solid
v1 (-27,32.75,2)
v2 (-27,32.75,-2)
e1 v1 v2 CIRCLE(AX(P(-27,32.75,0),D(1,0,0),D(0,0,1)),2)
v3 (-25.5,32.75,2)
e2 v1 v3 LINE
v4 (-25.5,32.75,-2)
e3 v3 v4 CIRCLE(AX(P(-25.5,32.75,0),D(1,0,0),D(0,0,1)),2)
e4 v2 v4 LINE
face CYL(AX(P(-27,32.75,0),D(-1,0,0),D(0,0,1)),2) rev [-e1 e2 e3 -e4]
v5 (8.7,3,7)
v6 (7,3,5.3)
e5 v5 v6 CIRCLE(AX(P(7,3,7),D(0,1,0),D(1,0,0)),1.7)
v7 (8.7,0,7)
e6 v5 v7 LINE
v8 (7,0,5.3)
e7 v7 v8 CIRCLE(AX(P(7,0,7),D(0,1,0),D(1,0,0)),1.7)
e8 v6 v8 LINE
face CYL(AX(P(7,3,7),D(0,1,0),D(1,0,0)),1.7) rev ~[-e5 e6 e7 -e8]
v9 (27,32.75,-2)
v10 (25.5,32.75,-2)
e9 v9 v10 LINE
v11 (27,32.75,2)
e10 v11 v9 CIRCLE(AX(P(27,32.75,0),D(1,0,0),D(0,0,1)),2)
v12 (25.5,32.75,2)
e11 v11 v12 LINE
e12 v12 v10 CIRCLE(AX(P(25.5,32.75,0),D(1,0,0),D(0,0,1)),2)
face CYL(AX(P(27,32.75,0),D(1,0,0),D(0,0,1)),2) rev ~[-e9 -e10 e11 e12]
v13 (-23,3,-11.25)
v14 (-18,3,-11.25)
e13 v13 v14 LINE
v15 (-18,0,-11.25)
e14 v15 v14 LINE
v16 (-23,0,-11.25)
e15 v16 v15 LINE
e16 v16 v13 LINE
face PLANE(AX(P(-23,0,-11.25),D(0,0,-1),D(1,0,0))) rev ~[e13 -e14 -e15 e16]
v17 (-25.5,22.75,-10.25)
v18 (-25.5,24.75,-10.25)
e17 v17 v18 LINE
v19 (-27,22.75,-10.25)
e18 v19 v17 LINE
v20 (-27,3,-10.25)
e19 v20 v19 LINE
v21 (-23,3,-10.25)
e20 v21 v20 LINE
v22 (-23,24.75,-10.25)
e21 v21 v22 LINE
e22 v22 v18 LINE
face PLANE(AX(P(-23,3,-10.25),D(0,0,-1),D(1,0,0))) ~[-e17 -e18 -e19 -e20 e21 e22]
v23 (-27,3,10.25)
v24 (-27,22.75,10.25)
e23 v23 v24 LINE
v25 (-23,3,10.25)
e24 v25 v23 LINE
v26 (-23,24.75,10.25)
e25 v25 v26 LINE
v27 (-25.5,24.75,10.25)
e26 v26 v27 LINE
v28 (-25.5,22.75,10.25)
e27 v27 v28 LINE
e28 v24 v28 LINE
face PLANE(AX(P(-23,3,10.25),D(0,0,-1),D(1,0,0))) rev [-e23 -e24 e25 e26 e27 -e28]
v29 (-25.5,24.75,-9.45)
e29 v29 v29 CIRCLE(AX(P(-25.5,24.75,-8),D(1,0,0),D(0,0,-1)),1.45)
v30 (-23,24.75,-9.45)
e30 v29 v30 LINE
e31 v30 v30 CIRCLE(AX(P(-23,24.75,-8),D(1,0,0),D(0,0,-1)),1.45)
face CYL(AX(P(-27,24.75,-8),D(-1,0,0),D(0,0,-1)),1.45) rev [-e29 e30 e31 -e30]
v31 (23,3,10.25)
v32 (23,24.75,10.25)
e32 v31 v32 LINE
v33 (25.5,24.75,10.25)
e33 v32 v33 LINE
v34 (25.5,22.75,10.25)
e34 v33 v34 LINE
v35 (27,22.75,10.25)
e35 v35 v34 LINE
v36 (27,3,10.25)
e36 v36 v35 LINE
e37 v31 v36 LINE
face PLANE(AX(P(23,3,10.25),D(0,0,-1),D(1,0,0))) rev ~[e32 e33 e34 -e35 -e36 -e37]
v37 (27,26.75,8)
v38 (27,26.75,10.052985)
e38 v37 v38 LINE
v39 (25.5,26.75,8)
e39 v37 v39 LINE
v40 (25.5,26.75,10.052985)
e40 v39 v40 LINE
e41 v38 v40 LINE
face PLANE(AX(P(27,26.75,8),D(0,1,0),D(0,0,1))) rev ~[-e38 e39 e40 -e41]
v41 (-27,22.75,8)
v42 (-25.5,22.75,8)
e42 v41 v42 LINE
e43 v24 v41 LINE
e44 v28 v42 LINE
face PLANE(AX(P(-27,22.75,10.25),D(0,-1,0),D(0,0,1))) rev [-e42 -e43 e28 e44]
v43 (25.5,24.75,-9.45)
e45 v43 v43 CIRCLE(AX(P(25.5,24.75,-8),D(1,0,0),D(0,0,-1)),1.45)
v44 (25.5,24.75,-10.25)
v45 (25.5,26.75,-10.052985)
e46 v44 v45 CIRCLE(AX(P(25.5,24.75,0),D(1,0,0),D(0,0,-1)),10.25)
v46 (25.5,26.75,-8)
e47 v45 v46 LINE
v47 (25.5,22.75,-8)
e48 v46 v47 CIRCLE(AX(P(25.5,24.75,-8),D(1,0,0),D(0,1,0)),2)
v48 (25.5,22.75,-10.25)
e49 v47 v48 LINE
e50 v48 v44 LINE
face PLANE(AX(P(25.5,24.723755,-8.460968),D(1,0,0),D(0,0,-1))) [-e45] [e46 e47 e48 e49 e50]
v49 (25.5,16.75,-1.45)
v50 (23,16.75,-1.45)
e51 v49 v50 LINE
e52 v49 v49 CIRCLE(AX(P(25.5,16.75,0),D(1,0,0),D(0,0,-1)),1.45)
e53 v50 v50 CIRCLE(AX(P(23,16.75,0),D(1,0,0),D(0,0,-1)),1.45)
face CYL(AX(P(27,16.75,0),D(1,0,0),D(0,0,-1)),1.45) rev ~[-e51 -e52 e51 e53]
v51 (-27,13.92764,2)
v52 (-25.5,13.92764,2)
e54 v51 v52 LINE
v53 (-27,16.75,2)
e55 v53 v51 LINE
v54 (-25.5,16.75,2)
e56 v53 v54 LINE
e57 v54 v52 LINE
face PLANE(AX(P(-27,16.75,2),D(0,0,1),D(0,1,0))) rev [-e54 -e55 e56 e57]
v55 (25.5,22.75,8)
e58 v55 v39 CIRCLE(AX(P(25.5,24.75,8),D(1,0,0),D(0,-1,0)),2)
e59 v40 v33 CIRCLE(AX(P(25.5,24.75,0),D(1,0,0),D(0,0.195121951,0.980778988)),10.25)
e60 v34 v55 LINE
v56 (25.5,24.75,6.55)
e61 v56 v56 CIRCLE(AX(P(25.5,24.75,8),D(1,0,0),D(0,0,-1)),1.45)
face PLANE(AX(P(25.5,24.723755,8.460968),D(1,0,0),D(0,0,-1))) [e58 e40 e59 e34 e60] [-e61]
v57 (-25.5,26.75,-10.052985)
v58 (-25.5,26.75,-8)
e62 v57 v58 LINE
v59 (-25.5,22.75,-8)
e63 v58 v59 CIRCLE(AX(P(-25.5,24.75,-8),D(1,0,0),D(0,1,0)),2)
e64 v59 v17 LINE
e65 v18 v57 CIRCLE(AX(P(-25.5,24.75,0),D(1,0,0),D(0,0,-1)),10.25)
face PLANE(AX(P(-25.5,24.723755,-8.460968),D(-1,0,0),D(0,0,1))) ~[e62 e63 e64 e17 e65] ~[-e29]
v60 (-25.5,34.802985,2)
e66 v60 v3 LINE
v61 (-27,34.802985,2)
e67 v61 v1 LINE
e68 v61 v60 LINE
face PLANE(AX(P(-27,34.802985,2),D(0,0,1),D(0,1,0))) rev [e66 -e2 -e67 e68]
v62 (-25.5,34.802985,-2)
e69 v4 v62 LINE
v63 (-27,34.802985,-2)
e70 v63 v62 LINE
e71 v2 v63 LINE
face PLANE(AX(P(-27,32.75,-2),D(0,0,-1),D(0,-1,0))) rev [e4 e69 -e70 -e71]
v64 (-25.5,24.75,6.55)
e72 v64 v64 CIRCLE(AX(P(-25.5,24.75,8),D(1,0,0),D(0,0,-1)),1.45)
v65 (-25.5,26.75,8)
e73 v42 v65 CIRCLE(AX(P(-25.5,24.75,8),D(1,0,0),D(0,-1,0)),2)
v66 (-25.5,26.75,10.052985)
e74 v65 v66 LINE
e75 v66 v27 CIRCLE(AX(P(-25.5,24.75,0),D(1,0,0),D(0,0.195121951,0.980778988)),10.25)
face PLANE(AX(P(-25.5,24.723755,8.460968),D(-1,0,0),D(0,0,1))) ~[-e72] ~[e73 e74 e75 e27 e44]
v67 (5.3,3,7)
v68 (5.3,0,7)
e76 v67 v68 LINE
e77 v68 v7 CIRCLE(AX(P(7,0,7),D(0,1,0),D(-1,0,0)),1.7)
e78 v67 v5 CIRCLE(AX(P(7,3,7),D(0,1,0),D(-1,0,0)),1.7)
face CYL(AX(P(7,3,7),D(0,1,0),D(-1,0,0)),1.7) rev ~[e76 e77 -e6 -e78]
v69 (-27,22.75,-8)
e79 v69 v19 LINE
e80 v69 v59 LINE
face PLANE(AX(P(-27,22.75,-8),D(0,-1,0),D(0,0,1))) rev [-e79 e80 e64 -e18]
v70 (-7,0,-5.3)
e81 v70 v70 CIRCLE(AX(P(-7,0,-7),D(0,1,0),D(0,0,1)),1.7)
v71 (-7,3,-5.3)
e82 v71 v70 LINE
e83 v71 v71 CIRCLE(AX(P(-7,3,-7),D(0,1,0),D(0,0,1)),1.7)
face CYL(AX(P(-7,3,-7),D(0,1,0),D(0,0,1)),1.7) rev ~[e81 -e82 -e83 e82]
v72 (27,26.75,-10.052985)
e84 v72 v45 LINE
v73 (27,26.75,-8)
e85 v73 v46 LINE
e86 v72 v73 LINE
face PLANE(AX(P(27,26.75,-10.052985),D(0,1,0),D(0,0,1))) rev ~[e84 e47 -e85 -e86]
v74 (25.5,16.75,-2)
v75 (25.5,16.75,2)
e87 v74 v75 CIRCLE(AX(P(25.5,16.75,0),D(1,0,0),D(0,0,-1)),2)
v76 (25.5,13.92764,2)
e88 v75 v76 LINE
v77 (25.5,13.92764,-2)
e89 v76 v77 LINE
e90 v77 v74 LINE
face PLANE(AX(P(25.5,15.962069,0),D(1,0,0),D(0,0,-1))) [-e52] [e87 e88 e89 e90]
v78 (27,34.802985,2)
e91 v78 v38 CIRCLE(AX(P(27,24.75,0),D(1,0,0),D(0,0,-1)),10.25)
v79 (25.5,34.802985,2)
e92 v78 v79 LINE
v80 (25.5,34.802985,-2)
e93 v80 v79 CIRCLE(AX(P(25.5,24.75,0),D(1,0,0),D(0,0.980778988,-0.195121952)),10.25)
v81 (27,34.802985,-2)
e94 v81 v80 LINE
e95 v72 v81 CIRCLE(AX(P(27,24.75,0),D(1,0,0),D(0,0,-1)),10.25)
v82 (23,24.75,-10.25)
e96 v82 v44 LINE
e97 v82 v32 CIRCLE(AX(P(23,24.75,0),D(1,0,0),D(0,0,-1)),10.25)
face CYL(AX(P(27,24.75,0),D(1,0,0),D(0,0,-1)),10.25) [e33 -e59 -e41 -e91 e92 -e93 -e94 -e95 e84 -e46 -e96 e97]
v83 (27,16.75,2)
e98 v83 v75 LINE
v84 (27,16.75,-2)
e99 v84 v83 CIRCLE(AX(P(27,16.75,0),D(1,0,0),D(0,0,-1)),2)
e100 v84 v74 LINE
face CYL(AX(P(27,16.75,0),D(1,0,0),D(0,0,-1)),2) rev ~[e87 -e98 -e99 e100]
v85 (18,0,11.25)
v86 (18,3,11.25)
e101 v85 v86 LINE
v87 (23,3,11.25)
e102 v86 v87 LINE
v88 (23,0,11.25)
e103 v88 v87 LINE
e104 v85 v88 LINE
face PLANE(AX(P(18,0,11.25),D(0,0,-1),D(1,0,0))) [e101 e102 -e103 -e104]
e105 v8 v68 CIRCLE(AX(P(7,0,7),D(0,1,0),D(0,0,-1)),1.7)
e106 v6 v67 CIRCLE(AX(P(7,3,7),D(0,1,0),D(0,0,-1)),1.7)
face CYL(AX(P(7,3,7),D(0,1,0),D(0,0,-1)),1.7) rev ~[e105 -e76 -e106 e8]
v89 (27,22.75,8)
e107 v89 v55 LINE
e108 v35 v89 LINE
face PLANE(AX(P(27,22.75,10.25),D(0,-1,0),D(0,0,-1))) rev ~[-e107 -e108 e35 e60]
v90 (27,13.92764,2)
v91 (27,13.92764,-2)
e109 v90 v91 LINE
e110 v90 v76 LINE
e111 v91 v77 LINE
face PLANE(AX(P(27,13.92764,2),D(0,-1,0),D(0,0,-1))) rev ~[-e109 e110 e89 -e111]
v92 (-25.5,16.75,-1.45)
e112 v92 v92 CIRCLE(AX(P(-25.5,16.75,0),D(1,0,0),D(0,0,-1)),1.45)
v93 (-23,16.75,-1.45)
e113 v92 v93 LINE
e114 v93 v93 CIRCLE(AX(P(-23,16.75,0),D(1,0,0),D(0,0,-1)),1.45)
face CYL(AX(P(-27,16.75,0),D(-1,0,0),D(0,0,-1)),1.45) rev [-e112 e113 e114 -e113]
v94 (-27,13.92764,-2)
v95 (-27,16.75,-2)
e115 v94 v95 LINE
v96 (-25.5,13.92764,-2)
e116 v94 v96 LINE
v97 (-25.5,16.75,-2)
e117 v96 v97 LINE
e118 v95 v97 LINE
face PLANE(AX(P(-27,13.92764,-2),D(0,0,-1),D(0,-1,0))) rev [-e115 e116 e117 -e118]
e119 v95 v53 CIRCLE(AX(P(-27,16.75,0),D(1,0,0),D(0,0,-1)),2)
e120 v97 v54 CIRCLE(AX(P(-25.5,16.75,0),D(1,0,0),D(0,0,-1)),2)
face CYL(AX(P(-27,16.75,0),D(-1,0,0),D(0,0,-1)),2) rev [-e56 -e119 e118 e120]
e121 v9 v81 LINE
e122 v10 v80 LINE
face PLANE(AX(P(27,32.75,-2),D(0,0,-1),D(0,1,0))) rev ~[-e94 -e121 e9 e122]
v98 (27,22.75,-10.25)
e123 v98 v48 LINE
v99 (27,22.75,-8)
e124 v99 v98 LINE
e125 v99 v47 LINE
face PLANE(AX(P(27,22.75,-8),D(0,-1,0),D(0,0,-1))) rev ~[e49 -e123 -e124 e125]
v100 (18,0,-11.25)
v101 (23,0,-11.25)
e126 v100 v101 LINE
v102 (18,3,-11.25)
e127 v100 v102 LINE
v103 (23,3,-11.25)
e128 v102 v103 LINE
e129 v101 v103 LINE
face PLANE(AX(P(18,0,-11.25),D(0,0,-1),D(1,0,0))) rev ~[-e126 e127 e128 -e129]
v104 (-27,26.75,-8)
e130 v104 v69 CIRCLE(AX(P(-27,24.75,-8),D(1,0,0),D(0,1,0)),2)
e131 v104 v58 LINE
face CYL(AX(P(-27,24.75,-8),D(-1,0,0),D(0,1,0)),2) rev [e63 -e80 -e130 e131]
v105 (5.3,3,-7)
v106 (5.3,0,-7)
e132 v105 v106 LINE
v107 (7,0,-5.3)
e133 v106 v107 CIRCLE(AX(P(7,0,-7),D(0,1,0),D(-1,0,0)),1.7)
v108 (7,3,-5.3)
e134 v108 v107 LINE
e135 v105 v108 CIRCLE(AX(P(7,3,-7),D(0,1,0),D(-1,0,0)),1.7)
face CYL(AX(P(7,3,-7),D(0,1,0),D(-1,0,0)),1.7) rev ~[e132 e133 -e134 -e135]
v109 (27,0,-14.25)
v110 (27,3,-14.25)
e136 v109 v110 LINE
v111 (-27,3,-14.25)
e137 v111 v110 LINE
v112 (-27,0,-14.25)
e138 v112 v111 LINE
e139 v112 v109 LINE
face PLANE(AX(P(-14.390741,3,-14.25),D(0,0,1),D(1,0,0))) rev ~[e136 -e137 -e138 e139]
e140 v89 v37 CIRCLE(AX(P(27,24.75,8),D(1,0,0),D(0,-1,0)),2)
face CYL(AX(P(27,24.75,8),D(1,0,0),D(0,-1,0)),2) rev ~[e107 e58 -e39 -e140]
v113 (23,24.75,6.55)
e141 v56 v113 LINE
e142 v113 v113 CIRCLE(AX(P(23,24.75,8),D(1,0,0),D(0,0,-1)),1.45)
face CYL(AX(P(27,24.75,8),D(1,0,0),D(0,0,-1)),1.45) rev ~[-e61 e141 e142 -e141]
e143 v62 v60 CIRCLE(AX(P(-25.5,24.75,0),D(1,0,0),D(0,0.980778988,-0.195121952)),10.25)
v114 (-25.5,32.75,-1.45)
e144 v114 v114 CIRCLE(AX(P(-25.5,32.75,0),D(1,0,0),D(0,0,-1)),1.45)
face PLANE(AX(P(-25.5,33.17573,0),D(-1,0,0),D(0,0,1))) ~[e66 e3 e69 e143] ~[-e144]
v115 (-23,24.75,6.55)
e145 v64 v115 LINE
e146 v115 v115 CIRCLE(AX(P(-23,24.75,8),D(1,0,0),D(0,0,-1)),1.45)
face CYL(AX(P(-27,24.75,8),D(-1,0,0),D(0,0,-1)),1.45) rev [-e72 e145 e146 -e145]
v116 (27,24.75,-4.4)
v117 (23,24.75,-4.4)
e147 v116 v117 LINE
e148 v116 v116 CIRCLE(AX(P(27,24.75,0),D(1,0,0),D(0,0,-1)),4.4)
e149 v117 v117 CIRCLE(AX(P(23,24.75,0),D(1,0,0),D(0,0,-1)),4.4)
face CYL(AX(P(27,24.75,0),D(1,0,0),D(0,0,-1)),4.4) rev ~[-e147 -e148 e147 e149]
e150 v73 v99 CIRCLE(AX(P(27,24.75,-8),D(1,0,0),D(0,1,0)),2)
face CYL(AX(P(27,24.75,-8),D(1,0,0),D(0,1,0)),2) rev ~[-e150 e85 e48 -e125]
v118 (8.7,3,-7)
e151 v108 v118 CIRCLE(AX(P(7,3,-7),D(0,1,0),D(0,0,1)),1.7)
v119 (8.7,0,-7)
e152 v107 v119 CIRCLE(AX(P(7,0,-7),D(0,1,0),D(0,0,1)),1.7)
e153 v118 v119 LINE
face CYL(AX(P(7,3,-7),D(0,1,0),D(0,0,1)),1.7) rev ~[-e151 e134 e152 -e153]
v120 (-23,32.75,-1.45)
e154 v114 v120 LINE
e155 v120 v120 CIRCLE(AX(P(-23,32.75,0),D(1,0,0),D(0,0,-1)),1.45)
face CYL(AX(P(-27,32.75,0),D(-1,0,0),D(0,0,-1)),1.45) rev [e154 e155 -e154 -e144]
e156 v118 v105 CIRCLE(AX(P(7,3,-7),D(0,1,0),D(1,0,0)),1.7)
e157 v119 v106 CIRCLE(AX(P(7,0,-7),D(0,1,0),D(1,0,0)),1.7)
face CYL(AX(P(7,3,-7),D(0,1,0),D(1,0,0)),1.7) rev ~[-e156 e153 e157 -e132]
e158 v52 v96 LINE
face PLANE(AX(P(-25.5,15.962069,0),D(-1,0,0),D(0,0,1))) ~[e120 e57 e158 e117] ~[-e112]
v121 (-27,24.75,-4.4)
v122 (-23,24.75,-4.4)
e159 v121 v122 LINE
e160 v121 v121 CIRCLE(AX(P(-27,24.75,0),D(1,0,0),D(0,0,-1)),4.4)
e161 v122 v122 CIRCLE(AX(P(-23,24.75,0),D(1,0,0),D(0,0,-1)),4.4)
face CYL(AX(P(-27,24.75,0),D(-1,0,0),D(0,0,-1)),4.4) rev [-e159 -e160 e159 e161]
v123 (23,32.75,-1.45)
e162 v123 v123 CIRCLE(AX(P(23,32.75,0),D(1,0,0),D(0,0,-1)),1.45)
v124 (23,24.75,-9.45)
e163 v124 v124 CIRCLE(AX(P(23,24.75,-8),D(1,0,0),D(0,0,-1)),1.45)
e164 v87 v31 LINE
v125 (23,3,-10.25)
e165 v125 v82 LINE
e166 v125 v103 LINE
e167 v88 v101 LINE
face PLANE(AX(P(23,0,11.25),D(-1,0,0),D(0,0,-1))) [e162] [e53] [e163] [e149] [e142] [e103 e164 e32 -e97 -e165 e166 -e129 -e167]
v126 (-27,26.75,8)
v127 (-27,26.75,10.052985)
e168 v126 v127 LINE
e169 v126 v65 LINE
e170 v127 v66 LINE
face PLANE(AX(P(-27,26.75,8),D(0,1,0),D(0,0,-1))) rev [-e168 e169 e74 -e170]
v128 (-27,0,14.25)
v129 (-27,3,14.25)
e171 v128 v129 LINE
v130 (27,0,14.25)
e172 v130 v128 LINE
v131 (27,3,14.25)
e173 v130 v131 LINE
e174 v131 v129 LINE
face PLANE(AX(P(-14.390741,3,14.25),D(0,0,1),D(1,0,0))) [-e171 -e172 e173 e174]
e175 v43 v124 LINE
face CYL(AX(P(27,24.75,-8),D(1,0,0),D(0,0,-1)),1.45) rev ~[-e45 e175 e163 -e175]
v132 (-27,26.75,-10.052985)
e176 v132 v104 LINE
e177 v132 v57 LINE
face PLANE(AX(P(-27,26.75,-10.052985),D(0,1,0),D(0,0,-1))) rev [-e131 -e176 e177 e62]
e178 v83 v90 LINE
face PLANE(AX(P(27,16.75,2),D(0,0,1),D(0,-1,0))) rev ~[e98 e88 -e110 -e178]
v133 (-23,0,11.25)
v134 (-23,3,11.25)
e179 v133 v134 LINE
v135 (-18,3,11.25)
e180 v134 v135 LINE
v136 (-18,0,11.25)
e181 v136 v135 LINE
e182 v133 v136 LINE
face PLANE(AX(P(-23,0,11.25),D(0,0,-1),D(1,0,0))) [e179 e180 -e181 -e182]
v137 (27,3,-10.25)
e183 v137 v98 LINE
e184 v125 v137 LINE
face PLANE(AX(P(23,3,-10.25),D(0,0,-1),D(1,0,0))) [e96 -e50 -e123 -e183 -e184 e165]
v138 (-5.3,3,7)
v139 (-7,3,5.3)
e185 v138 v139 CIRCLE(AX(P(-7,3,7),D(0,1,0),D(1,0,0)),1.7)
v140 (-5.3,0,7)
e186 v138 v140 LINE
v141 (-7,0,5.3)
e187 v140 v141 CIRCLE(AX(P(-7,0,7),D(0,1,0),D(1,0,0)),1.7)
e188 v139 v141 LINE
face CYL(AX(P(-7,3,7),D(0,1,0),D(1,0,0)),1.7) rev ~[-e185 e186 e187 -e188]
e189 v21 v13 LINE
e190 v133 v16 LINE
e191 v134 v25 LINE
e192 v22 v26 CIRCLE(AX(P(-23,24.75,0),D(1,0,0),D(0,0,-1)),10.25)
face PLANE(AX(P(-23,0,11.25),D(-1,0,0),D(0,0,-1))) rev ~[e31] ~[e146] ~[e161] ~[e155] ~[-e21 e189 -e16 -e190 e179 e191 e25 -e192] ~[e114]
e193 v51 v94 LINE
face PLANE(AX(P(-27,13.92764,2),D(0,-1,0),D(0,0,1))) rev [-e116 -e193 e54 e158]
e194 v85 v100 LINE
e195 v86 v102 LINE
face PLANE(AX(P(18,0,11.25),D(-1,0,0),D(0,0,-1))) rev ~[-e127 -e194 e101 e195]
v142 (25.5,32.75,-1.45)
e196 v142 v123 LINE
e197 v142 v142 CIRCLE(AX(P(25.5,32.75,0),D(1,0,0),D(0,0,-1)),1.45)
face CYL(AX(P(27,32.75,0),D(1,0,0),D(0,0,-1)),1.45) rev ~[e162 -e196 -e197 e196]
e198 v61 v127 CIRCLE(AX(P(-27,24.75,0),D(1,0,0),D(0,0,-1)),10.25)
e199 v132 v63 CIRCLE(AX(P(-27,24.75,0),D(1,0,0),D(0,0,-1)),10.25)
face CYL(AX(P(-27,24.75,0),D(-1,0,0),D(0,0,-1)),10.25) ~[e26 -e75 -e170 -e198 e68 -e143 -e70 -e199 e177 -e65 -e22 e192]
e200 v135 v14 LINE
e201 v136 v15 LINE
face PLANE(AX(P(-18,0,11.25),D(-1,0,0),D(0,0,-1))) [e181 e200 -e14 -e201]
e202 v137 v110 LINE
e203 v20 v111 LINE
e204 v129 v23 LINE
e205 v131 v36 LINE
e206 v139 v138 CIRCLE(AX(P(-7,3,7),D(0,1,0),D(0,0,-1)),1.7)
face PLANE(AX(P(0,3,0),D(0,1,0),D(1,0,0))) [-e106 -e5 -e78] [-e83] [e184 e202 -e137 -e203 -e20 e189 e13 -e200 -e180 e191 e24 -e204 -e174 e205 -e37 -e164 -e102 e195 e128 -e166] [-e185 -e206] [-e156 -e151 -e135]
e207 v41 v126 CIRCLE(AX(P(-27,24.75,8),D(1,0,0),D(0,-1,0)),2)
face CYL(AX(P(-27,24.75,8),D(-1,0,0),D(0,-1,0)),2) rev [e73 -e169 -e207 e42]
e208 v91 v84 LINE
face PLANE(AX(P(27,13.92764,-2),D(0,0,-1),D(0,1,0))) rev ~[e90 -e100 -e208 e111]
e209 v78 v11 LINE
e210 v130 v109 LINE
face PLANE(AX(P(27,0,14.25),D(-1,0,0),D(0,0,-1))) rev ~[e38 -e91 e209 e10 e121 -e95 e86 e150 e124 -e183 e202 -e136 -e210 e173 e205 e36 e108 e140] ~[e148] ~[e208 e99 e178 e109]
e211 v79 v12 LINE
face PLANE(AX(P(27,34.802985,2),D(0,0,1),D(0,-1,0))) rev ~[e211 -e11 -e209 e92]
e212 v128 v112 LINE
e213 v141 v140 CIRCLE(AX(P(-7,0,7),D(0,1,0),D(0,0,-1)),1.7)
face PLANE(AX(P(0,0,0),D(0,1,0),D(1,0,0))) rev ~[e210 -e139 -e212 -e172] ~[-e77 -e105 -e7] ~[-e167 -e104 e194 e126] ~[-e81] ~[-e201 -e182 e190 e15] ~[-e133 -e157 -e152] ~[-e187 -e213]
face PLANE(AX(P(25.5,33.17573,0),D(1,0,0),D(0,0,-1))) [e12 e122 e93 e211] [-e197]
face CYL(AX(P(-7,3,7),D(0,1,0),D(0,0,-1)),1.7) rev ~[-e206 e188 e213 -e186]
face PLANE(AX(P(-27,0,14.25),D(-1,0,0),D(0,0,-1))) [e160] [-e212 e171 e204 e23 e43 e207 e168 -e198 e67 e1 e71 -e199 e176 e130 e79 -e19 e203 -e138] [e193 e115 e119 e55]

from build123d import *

# Parameters (mm, degrees)
SKETCH1_W           = 54
SKETCH1_H           = 28.5
SKETCH1_W_2         = 5
SKETCH1_H_2         = 22.5
SKETCH1_R           = 1.7
SKETCH1_R_2         = 7.5
BOSS_EXTRUDE2_DEPTH = 3
SKETCH2_W           = 4
SKETCH2_H           = 20.5
BOSS_EXTRUDE3_DEPTH = 21.75
SKETCH4_R           = 10.25
BOSS_EXTRUDE4_DEPTH = 4
SKETCH6_R           = 4.4
SKETCH6_R_2         = 1.45
CUT_EXTRUDE3_DEPTH  = 4
SKETCH7_R           = 1.45
CUT_EXTRUDE4_DEPTH  = 1.5
SKETCH8_W           = 28.781481152
SKETCH8_H           = 28.5
BOSS_EXTRUDE5_DEPTH = 3
SKETCH9_R           = 1.7
CUT_EXTRUDE5_DEPTH  = 3


with BuildPart() as part:
    # Sketch1 → Boss-Extrude2 (new body)
    with BuildSketch(Plane(origin=(0, 0, 0), x_dir=(1, 0, 0), z_dir=(0, 1, 0))):
        Rectangle(SKETCH1_W, SKETCH1_H)
        with Locations((20.5, 0)):
            Rectangle(SKETCH1_W_2, SKETCH1_H_2, mode=Mode.SUBTRACT)
        with Locations((-20.5, 0)):
            Rectangle(SKETCH1_W_2, SKETCH1_H_2, mode=Mode.SUBTRACT)
        with Locations(Location((-9, -8.25, 0), (0, 0, 270))):
            Circle(SKETCH1_R, mode=Mode.SUBTRACT)
        with Locations(Location((9, -8.25, 0), (0, 0, 270))):
            Circle(SKETCH1_R, mode=Mode.SUBTRACT)
        with Locations(Location((-9, 8.25, 0), (0, 0, 270))):
            Circle(SKETCH1_R, mode=Mode.SUBTRACT)
        with Locations(Location((0, 0, 0), (0, 0, 270))):
            Circle(SKETCH1_R_2, mode=Mode.SUBTRACT)
        with Locations(Location((9, 8.25, 0), (0, 0, 270))):
            Circle(SKETCH1_R, mode=Mode.SUBTRACT)
    extrude(amount=BOSS_EXTRUDE2_DEPTH)

    # Sketch2 → Boss-Extrude3 (add)
    with BuildSketch(Plane(origin=(0, 3, 0), x_dir=(1, 0, 0), z_dir=(0, 1, 0))):
        with Locations((25, 0)):
            Rectangle(SKETCH2_W, SKETCH2_H)
    boss_extrude3 = extrude(amount=BOSS_EXTRUDE3_DEPTH)

    # Sketch4 → Boss-Extrude4 (add)
    with BuildSketch(Plane(origin=(27, 0, 0), x_dir=(0, 0, -1), z_dir=(1, 0, 0))):
        with Locations((0, 24.75)):
            Circle(SKETCH4_R)
    boss_extrude4 = extrude(amount=-BOSS_EXTRUDE4_DEPTH)

    # Mirror1: Boss-Extrude3, Boss-Extrude4 across plane
    add(boss_extrude3.mirror(Plane(origin=(0, 0, 0), x_dir=(0, 0, 1), z_dir=(1, 0, 0))))
    add(boss_extrude4.mirror(Plane(origin=(0, 0, 0), x_dir=(0, 0, 1), z_dir=(1, 0, 0))))

    # Sketch6 → Cut-Extrude3 (cut)
    with BuildSketch(Plane(origin=(27, 0, 0), x_dir=(0, 0, -1), z_dir=(1, 0, 0))):
        with Locations((0, 24.75)):
            Circle(SKETCH6_R)
        with Locations((0, 32.75)):
            Circle(SKETCH6_R_2)
        with Locations((8, 24.75)):
            Circle(SKETCH6_R_2)
        with Locations((0, 16.75)):
            Circle(SKETCH6_R_2)
        with Locations((-8, 24.75)):
            Circle(SKETCH6_R_2)
    cut_extrude3 = extrude(amount=-CUT_EXTRUDE3_DEPTH, mode=Mode.SUBTRACT)

    # Mirror3: Cut-Extrude3 across plane
    add(cut_extrude3.mirror(Plane(origin=(0, 0, 0), x_dir=(0, 0, 1), z_dir=(1, 0, 0))), mode=Mode.SUBTRACT)

    # Sketch7 → Cut-Extrude4 (cut)
    # profile 1 of 4: a face of its own
    with BuildSketch(Plane(origin=(27, 0, 0), x_dir=(0, 0, -1), z_dir=(1, 0, 0))):
        with BuildLine():
            ThreePointArc((10.25, 24.75), (10.200627247, 25.754840168), (10.052984631, 26.75))
            Line((10.052984631, 26.75), (8, 26.75))
            ThreePointArc((8, 26.75), (6, 24.75), (8, 22.75))
            Line((8, 22.75), (10.25, 22.75))
            Line((10.25, 22.75), (10.25, 24.75))
        make_face()
        with Locations((8, 24.75)):
            Circle(SKETCH7_R, mode=Mode.SUBTRACT)
    # profile 2 of 4: a face of its own
    with BuildSketch(Plane(origin=(27, 0, 0), x_dir=(0, 0, -1), z_dir=(1, 0, 0))):
        with BuildLine():
            Line((2, 32.75), (2, 34.802984631))
            ThreePointArc((2, 34.802984631), (0, 35), (-2, 34.802984631))
            Line((-2, 34.802984631), (-2, 32.75))
            ThreePointArc((-2, 32.75), (0, 30.75), (2, 32.75))
        make_face()
        with Locations((0, 32.75)):
            Circle(SKETCH7_R, mode=Mode.SUBTRACT)
    # profile 3 of 4: a face of its own
    with BuildSketch(Plane(origin=(27, 0, 0), x_dir=(0, 0, -1), z_dir=(1, 0, 0))):
        with BuildLine():
            Line((-8, 26.75), (-10.052984631, 26.75))
            ThreePointArc((-10.052984631, 26.75), (-10.200627247, 25.754840168), (-10.25, 24.75))
            Line((-10.25, 24.75), (-10.25, 22.75))
            Line((-10.25, 22.75), (-8, 22.75))
            ThreePointArc((-8, 22.75), (-6, 24.75), (-8, 26.75))
        make_face()
        with Locations((-8, 24.75)):
            Circle(SKETCH7_R, mode=Mode.SUBTRACT)
    # profile 4 of 4: a face of its own
    with BuildSketch(Plane(origin=(27, 0, 0), x_dir=(0, 0, -1), z_dir=(1, 0, 0))):
        with BuildLine():
            Line((-2, 16.75), (-2, 13.927640071))
            Line((-2, 13.927640071), (2, 13.927640071))
            Line((2, 13.927640071), (2, 16.75))
            ThreePointArc((2, 16.75), (0, 18.75), (-2, 16.75))
        make_face()
        with Locations((0, 16.75)):
            Circle(SKETCH7_R, mode=Mode.SUBTRACT)
    cut_extrude4 = extrude(amount=-CUT_EXTRUDE4_DEPTH, mode=Mode.SUBTRACT)

    # Mirror4: Cut-Extrude4 across plane
    add(cut_extrude4.mirror(Plane(origin=(0, 0, 0), x_dir=(0, 0, 1), z_dir=(1, 0, 0))), mode=Mode.SUBTRACT)

    # Sketch8 → Boss-Extrude5 (add)
    with BuildSketch(Plane(origin=(0, 3, 0), x_dir=(1, 0, 0), z_dir=(0, 1, 0))):
        Rectangle(SKETCH8_W, SKETCH8_H)
    extrude(amount=-BOSS_EXTRUDE5_DEPTH)

    # Sketch9 → Cut-Extrude5 (cut)
    with BuildSketch(Plane(origin=(0, 3, 0), x_dir=(1, 0, 0), z_dir=(0, 1, 0))):
        with BuildLine():
            ThreePointArc((-5.3, -7), (-5.797918472, -5.797918472), (-7, -5.3))
            Line((-7, -5.3), (-7, -7))
            Line((-7, -7), (-5.3, -7))
        make_face()
        with BuildLine():
            Line((-7, -7), (-7, -5.3))
            ThreePointArc((-7, -5.3), (-8.202081528, -8.202081528), (-5.3, -7))
            Line((-5.3, -7), (-7, -7))
        make_face()
        with BuildLine():
            ThreePointArc((8.7, -7), (8.202081528, -5.797918472), (7, -5.3))
            Line((7, -5.3), (7, -7))
            Line((7, -7), (5.3, -7))
            ThreePointArc((5.3, -7), (7, -8.7), (8.7, -7))
        make_face()
        with BuildLine():
            Line((7, -7), (7, -5.3))
            ThreePointArc((7, -5.3), (5.797918472, -5.797918472), (5.3, -7))
            Line((5.3, -7), (7, -7))
        make_face()
        with BuildLine():
            ThreePointArc((8.7, 7), (7, 8.7), (5.3, 7))
            Line((5.3, 7), (7, 7))
            Line((7, 7), (7, 5.3))
            ThreePointArc((7, 5.3), (8.202081528, 5.797918472), (8.7, 7))
        make_face()
        with BuildLine():
            Line((7, 7), (5.3, 7))
            ThreePointArc((5.3, 7), (5.797918472, 5.797918472), (7, 5.3))
            Line((7, 5.3), (7, 7))
        make_face()
        with Locations(Location((-7, 7, 0), (0, 0, 270))):
            Circle(SKETCH9_R)
    extrude(amount=-CUT_EXTRUDE5_DEPTH, mode=Mode.SUBTRACT)


solid = part.part
